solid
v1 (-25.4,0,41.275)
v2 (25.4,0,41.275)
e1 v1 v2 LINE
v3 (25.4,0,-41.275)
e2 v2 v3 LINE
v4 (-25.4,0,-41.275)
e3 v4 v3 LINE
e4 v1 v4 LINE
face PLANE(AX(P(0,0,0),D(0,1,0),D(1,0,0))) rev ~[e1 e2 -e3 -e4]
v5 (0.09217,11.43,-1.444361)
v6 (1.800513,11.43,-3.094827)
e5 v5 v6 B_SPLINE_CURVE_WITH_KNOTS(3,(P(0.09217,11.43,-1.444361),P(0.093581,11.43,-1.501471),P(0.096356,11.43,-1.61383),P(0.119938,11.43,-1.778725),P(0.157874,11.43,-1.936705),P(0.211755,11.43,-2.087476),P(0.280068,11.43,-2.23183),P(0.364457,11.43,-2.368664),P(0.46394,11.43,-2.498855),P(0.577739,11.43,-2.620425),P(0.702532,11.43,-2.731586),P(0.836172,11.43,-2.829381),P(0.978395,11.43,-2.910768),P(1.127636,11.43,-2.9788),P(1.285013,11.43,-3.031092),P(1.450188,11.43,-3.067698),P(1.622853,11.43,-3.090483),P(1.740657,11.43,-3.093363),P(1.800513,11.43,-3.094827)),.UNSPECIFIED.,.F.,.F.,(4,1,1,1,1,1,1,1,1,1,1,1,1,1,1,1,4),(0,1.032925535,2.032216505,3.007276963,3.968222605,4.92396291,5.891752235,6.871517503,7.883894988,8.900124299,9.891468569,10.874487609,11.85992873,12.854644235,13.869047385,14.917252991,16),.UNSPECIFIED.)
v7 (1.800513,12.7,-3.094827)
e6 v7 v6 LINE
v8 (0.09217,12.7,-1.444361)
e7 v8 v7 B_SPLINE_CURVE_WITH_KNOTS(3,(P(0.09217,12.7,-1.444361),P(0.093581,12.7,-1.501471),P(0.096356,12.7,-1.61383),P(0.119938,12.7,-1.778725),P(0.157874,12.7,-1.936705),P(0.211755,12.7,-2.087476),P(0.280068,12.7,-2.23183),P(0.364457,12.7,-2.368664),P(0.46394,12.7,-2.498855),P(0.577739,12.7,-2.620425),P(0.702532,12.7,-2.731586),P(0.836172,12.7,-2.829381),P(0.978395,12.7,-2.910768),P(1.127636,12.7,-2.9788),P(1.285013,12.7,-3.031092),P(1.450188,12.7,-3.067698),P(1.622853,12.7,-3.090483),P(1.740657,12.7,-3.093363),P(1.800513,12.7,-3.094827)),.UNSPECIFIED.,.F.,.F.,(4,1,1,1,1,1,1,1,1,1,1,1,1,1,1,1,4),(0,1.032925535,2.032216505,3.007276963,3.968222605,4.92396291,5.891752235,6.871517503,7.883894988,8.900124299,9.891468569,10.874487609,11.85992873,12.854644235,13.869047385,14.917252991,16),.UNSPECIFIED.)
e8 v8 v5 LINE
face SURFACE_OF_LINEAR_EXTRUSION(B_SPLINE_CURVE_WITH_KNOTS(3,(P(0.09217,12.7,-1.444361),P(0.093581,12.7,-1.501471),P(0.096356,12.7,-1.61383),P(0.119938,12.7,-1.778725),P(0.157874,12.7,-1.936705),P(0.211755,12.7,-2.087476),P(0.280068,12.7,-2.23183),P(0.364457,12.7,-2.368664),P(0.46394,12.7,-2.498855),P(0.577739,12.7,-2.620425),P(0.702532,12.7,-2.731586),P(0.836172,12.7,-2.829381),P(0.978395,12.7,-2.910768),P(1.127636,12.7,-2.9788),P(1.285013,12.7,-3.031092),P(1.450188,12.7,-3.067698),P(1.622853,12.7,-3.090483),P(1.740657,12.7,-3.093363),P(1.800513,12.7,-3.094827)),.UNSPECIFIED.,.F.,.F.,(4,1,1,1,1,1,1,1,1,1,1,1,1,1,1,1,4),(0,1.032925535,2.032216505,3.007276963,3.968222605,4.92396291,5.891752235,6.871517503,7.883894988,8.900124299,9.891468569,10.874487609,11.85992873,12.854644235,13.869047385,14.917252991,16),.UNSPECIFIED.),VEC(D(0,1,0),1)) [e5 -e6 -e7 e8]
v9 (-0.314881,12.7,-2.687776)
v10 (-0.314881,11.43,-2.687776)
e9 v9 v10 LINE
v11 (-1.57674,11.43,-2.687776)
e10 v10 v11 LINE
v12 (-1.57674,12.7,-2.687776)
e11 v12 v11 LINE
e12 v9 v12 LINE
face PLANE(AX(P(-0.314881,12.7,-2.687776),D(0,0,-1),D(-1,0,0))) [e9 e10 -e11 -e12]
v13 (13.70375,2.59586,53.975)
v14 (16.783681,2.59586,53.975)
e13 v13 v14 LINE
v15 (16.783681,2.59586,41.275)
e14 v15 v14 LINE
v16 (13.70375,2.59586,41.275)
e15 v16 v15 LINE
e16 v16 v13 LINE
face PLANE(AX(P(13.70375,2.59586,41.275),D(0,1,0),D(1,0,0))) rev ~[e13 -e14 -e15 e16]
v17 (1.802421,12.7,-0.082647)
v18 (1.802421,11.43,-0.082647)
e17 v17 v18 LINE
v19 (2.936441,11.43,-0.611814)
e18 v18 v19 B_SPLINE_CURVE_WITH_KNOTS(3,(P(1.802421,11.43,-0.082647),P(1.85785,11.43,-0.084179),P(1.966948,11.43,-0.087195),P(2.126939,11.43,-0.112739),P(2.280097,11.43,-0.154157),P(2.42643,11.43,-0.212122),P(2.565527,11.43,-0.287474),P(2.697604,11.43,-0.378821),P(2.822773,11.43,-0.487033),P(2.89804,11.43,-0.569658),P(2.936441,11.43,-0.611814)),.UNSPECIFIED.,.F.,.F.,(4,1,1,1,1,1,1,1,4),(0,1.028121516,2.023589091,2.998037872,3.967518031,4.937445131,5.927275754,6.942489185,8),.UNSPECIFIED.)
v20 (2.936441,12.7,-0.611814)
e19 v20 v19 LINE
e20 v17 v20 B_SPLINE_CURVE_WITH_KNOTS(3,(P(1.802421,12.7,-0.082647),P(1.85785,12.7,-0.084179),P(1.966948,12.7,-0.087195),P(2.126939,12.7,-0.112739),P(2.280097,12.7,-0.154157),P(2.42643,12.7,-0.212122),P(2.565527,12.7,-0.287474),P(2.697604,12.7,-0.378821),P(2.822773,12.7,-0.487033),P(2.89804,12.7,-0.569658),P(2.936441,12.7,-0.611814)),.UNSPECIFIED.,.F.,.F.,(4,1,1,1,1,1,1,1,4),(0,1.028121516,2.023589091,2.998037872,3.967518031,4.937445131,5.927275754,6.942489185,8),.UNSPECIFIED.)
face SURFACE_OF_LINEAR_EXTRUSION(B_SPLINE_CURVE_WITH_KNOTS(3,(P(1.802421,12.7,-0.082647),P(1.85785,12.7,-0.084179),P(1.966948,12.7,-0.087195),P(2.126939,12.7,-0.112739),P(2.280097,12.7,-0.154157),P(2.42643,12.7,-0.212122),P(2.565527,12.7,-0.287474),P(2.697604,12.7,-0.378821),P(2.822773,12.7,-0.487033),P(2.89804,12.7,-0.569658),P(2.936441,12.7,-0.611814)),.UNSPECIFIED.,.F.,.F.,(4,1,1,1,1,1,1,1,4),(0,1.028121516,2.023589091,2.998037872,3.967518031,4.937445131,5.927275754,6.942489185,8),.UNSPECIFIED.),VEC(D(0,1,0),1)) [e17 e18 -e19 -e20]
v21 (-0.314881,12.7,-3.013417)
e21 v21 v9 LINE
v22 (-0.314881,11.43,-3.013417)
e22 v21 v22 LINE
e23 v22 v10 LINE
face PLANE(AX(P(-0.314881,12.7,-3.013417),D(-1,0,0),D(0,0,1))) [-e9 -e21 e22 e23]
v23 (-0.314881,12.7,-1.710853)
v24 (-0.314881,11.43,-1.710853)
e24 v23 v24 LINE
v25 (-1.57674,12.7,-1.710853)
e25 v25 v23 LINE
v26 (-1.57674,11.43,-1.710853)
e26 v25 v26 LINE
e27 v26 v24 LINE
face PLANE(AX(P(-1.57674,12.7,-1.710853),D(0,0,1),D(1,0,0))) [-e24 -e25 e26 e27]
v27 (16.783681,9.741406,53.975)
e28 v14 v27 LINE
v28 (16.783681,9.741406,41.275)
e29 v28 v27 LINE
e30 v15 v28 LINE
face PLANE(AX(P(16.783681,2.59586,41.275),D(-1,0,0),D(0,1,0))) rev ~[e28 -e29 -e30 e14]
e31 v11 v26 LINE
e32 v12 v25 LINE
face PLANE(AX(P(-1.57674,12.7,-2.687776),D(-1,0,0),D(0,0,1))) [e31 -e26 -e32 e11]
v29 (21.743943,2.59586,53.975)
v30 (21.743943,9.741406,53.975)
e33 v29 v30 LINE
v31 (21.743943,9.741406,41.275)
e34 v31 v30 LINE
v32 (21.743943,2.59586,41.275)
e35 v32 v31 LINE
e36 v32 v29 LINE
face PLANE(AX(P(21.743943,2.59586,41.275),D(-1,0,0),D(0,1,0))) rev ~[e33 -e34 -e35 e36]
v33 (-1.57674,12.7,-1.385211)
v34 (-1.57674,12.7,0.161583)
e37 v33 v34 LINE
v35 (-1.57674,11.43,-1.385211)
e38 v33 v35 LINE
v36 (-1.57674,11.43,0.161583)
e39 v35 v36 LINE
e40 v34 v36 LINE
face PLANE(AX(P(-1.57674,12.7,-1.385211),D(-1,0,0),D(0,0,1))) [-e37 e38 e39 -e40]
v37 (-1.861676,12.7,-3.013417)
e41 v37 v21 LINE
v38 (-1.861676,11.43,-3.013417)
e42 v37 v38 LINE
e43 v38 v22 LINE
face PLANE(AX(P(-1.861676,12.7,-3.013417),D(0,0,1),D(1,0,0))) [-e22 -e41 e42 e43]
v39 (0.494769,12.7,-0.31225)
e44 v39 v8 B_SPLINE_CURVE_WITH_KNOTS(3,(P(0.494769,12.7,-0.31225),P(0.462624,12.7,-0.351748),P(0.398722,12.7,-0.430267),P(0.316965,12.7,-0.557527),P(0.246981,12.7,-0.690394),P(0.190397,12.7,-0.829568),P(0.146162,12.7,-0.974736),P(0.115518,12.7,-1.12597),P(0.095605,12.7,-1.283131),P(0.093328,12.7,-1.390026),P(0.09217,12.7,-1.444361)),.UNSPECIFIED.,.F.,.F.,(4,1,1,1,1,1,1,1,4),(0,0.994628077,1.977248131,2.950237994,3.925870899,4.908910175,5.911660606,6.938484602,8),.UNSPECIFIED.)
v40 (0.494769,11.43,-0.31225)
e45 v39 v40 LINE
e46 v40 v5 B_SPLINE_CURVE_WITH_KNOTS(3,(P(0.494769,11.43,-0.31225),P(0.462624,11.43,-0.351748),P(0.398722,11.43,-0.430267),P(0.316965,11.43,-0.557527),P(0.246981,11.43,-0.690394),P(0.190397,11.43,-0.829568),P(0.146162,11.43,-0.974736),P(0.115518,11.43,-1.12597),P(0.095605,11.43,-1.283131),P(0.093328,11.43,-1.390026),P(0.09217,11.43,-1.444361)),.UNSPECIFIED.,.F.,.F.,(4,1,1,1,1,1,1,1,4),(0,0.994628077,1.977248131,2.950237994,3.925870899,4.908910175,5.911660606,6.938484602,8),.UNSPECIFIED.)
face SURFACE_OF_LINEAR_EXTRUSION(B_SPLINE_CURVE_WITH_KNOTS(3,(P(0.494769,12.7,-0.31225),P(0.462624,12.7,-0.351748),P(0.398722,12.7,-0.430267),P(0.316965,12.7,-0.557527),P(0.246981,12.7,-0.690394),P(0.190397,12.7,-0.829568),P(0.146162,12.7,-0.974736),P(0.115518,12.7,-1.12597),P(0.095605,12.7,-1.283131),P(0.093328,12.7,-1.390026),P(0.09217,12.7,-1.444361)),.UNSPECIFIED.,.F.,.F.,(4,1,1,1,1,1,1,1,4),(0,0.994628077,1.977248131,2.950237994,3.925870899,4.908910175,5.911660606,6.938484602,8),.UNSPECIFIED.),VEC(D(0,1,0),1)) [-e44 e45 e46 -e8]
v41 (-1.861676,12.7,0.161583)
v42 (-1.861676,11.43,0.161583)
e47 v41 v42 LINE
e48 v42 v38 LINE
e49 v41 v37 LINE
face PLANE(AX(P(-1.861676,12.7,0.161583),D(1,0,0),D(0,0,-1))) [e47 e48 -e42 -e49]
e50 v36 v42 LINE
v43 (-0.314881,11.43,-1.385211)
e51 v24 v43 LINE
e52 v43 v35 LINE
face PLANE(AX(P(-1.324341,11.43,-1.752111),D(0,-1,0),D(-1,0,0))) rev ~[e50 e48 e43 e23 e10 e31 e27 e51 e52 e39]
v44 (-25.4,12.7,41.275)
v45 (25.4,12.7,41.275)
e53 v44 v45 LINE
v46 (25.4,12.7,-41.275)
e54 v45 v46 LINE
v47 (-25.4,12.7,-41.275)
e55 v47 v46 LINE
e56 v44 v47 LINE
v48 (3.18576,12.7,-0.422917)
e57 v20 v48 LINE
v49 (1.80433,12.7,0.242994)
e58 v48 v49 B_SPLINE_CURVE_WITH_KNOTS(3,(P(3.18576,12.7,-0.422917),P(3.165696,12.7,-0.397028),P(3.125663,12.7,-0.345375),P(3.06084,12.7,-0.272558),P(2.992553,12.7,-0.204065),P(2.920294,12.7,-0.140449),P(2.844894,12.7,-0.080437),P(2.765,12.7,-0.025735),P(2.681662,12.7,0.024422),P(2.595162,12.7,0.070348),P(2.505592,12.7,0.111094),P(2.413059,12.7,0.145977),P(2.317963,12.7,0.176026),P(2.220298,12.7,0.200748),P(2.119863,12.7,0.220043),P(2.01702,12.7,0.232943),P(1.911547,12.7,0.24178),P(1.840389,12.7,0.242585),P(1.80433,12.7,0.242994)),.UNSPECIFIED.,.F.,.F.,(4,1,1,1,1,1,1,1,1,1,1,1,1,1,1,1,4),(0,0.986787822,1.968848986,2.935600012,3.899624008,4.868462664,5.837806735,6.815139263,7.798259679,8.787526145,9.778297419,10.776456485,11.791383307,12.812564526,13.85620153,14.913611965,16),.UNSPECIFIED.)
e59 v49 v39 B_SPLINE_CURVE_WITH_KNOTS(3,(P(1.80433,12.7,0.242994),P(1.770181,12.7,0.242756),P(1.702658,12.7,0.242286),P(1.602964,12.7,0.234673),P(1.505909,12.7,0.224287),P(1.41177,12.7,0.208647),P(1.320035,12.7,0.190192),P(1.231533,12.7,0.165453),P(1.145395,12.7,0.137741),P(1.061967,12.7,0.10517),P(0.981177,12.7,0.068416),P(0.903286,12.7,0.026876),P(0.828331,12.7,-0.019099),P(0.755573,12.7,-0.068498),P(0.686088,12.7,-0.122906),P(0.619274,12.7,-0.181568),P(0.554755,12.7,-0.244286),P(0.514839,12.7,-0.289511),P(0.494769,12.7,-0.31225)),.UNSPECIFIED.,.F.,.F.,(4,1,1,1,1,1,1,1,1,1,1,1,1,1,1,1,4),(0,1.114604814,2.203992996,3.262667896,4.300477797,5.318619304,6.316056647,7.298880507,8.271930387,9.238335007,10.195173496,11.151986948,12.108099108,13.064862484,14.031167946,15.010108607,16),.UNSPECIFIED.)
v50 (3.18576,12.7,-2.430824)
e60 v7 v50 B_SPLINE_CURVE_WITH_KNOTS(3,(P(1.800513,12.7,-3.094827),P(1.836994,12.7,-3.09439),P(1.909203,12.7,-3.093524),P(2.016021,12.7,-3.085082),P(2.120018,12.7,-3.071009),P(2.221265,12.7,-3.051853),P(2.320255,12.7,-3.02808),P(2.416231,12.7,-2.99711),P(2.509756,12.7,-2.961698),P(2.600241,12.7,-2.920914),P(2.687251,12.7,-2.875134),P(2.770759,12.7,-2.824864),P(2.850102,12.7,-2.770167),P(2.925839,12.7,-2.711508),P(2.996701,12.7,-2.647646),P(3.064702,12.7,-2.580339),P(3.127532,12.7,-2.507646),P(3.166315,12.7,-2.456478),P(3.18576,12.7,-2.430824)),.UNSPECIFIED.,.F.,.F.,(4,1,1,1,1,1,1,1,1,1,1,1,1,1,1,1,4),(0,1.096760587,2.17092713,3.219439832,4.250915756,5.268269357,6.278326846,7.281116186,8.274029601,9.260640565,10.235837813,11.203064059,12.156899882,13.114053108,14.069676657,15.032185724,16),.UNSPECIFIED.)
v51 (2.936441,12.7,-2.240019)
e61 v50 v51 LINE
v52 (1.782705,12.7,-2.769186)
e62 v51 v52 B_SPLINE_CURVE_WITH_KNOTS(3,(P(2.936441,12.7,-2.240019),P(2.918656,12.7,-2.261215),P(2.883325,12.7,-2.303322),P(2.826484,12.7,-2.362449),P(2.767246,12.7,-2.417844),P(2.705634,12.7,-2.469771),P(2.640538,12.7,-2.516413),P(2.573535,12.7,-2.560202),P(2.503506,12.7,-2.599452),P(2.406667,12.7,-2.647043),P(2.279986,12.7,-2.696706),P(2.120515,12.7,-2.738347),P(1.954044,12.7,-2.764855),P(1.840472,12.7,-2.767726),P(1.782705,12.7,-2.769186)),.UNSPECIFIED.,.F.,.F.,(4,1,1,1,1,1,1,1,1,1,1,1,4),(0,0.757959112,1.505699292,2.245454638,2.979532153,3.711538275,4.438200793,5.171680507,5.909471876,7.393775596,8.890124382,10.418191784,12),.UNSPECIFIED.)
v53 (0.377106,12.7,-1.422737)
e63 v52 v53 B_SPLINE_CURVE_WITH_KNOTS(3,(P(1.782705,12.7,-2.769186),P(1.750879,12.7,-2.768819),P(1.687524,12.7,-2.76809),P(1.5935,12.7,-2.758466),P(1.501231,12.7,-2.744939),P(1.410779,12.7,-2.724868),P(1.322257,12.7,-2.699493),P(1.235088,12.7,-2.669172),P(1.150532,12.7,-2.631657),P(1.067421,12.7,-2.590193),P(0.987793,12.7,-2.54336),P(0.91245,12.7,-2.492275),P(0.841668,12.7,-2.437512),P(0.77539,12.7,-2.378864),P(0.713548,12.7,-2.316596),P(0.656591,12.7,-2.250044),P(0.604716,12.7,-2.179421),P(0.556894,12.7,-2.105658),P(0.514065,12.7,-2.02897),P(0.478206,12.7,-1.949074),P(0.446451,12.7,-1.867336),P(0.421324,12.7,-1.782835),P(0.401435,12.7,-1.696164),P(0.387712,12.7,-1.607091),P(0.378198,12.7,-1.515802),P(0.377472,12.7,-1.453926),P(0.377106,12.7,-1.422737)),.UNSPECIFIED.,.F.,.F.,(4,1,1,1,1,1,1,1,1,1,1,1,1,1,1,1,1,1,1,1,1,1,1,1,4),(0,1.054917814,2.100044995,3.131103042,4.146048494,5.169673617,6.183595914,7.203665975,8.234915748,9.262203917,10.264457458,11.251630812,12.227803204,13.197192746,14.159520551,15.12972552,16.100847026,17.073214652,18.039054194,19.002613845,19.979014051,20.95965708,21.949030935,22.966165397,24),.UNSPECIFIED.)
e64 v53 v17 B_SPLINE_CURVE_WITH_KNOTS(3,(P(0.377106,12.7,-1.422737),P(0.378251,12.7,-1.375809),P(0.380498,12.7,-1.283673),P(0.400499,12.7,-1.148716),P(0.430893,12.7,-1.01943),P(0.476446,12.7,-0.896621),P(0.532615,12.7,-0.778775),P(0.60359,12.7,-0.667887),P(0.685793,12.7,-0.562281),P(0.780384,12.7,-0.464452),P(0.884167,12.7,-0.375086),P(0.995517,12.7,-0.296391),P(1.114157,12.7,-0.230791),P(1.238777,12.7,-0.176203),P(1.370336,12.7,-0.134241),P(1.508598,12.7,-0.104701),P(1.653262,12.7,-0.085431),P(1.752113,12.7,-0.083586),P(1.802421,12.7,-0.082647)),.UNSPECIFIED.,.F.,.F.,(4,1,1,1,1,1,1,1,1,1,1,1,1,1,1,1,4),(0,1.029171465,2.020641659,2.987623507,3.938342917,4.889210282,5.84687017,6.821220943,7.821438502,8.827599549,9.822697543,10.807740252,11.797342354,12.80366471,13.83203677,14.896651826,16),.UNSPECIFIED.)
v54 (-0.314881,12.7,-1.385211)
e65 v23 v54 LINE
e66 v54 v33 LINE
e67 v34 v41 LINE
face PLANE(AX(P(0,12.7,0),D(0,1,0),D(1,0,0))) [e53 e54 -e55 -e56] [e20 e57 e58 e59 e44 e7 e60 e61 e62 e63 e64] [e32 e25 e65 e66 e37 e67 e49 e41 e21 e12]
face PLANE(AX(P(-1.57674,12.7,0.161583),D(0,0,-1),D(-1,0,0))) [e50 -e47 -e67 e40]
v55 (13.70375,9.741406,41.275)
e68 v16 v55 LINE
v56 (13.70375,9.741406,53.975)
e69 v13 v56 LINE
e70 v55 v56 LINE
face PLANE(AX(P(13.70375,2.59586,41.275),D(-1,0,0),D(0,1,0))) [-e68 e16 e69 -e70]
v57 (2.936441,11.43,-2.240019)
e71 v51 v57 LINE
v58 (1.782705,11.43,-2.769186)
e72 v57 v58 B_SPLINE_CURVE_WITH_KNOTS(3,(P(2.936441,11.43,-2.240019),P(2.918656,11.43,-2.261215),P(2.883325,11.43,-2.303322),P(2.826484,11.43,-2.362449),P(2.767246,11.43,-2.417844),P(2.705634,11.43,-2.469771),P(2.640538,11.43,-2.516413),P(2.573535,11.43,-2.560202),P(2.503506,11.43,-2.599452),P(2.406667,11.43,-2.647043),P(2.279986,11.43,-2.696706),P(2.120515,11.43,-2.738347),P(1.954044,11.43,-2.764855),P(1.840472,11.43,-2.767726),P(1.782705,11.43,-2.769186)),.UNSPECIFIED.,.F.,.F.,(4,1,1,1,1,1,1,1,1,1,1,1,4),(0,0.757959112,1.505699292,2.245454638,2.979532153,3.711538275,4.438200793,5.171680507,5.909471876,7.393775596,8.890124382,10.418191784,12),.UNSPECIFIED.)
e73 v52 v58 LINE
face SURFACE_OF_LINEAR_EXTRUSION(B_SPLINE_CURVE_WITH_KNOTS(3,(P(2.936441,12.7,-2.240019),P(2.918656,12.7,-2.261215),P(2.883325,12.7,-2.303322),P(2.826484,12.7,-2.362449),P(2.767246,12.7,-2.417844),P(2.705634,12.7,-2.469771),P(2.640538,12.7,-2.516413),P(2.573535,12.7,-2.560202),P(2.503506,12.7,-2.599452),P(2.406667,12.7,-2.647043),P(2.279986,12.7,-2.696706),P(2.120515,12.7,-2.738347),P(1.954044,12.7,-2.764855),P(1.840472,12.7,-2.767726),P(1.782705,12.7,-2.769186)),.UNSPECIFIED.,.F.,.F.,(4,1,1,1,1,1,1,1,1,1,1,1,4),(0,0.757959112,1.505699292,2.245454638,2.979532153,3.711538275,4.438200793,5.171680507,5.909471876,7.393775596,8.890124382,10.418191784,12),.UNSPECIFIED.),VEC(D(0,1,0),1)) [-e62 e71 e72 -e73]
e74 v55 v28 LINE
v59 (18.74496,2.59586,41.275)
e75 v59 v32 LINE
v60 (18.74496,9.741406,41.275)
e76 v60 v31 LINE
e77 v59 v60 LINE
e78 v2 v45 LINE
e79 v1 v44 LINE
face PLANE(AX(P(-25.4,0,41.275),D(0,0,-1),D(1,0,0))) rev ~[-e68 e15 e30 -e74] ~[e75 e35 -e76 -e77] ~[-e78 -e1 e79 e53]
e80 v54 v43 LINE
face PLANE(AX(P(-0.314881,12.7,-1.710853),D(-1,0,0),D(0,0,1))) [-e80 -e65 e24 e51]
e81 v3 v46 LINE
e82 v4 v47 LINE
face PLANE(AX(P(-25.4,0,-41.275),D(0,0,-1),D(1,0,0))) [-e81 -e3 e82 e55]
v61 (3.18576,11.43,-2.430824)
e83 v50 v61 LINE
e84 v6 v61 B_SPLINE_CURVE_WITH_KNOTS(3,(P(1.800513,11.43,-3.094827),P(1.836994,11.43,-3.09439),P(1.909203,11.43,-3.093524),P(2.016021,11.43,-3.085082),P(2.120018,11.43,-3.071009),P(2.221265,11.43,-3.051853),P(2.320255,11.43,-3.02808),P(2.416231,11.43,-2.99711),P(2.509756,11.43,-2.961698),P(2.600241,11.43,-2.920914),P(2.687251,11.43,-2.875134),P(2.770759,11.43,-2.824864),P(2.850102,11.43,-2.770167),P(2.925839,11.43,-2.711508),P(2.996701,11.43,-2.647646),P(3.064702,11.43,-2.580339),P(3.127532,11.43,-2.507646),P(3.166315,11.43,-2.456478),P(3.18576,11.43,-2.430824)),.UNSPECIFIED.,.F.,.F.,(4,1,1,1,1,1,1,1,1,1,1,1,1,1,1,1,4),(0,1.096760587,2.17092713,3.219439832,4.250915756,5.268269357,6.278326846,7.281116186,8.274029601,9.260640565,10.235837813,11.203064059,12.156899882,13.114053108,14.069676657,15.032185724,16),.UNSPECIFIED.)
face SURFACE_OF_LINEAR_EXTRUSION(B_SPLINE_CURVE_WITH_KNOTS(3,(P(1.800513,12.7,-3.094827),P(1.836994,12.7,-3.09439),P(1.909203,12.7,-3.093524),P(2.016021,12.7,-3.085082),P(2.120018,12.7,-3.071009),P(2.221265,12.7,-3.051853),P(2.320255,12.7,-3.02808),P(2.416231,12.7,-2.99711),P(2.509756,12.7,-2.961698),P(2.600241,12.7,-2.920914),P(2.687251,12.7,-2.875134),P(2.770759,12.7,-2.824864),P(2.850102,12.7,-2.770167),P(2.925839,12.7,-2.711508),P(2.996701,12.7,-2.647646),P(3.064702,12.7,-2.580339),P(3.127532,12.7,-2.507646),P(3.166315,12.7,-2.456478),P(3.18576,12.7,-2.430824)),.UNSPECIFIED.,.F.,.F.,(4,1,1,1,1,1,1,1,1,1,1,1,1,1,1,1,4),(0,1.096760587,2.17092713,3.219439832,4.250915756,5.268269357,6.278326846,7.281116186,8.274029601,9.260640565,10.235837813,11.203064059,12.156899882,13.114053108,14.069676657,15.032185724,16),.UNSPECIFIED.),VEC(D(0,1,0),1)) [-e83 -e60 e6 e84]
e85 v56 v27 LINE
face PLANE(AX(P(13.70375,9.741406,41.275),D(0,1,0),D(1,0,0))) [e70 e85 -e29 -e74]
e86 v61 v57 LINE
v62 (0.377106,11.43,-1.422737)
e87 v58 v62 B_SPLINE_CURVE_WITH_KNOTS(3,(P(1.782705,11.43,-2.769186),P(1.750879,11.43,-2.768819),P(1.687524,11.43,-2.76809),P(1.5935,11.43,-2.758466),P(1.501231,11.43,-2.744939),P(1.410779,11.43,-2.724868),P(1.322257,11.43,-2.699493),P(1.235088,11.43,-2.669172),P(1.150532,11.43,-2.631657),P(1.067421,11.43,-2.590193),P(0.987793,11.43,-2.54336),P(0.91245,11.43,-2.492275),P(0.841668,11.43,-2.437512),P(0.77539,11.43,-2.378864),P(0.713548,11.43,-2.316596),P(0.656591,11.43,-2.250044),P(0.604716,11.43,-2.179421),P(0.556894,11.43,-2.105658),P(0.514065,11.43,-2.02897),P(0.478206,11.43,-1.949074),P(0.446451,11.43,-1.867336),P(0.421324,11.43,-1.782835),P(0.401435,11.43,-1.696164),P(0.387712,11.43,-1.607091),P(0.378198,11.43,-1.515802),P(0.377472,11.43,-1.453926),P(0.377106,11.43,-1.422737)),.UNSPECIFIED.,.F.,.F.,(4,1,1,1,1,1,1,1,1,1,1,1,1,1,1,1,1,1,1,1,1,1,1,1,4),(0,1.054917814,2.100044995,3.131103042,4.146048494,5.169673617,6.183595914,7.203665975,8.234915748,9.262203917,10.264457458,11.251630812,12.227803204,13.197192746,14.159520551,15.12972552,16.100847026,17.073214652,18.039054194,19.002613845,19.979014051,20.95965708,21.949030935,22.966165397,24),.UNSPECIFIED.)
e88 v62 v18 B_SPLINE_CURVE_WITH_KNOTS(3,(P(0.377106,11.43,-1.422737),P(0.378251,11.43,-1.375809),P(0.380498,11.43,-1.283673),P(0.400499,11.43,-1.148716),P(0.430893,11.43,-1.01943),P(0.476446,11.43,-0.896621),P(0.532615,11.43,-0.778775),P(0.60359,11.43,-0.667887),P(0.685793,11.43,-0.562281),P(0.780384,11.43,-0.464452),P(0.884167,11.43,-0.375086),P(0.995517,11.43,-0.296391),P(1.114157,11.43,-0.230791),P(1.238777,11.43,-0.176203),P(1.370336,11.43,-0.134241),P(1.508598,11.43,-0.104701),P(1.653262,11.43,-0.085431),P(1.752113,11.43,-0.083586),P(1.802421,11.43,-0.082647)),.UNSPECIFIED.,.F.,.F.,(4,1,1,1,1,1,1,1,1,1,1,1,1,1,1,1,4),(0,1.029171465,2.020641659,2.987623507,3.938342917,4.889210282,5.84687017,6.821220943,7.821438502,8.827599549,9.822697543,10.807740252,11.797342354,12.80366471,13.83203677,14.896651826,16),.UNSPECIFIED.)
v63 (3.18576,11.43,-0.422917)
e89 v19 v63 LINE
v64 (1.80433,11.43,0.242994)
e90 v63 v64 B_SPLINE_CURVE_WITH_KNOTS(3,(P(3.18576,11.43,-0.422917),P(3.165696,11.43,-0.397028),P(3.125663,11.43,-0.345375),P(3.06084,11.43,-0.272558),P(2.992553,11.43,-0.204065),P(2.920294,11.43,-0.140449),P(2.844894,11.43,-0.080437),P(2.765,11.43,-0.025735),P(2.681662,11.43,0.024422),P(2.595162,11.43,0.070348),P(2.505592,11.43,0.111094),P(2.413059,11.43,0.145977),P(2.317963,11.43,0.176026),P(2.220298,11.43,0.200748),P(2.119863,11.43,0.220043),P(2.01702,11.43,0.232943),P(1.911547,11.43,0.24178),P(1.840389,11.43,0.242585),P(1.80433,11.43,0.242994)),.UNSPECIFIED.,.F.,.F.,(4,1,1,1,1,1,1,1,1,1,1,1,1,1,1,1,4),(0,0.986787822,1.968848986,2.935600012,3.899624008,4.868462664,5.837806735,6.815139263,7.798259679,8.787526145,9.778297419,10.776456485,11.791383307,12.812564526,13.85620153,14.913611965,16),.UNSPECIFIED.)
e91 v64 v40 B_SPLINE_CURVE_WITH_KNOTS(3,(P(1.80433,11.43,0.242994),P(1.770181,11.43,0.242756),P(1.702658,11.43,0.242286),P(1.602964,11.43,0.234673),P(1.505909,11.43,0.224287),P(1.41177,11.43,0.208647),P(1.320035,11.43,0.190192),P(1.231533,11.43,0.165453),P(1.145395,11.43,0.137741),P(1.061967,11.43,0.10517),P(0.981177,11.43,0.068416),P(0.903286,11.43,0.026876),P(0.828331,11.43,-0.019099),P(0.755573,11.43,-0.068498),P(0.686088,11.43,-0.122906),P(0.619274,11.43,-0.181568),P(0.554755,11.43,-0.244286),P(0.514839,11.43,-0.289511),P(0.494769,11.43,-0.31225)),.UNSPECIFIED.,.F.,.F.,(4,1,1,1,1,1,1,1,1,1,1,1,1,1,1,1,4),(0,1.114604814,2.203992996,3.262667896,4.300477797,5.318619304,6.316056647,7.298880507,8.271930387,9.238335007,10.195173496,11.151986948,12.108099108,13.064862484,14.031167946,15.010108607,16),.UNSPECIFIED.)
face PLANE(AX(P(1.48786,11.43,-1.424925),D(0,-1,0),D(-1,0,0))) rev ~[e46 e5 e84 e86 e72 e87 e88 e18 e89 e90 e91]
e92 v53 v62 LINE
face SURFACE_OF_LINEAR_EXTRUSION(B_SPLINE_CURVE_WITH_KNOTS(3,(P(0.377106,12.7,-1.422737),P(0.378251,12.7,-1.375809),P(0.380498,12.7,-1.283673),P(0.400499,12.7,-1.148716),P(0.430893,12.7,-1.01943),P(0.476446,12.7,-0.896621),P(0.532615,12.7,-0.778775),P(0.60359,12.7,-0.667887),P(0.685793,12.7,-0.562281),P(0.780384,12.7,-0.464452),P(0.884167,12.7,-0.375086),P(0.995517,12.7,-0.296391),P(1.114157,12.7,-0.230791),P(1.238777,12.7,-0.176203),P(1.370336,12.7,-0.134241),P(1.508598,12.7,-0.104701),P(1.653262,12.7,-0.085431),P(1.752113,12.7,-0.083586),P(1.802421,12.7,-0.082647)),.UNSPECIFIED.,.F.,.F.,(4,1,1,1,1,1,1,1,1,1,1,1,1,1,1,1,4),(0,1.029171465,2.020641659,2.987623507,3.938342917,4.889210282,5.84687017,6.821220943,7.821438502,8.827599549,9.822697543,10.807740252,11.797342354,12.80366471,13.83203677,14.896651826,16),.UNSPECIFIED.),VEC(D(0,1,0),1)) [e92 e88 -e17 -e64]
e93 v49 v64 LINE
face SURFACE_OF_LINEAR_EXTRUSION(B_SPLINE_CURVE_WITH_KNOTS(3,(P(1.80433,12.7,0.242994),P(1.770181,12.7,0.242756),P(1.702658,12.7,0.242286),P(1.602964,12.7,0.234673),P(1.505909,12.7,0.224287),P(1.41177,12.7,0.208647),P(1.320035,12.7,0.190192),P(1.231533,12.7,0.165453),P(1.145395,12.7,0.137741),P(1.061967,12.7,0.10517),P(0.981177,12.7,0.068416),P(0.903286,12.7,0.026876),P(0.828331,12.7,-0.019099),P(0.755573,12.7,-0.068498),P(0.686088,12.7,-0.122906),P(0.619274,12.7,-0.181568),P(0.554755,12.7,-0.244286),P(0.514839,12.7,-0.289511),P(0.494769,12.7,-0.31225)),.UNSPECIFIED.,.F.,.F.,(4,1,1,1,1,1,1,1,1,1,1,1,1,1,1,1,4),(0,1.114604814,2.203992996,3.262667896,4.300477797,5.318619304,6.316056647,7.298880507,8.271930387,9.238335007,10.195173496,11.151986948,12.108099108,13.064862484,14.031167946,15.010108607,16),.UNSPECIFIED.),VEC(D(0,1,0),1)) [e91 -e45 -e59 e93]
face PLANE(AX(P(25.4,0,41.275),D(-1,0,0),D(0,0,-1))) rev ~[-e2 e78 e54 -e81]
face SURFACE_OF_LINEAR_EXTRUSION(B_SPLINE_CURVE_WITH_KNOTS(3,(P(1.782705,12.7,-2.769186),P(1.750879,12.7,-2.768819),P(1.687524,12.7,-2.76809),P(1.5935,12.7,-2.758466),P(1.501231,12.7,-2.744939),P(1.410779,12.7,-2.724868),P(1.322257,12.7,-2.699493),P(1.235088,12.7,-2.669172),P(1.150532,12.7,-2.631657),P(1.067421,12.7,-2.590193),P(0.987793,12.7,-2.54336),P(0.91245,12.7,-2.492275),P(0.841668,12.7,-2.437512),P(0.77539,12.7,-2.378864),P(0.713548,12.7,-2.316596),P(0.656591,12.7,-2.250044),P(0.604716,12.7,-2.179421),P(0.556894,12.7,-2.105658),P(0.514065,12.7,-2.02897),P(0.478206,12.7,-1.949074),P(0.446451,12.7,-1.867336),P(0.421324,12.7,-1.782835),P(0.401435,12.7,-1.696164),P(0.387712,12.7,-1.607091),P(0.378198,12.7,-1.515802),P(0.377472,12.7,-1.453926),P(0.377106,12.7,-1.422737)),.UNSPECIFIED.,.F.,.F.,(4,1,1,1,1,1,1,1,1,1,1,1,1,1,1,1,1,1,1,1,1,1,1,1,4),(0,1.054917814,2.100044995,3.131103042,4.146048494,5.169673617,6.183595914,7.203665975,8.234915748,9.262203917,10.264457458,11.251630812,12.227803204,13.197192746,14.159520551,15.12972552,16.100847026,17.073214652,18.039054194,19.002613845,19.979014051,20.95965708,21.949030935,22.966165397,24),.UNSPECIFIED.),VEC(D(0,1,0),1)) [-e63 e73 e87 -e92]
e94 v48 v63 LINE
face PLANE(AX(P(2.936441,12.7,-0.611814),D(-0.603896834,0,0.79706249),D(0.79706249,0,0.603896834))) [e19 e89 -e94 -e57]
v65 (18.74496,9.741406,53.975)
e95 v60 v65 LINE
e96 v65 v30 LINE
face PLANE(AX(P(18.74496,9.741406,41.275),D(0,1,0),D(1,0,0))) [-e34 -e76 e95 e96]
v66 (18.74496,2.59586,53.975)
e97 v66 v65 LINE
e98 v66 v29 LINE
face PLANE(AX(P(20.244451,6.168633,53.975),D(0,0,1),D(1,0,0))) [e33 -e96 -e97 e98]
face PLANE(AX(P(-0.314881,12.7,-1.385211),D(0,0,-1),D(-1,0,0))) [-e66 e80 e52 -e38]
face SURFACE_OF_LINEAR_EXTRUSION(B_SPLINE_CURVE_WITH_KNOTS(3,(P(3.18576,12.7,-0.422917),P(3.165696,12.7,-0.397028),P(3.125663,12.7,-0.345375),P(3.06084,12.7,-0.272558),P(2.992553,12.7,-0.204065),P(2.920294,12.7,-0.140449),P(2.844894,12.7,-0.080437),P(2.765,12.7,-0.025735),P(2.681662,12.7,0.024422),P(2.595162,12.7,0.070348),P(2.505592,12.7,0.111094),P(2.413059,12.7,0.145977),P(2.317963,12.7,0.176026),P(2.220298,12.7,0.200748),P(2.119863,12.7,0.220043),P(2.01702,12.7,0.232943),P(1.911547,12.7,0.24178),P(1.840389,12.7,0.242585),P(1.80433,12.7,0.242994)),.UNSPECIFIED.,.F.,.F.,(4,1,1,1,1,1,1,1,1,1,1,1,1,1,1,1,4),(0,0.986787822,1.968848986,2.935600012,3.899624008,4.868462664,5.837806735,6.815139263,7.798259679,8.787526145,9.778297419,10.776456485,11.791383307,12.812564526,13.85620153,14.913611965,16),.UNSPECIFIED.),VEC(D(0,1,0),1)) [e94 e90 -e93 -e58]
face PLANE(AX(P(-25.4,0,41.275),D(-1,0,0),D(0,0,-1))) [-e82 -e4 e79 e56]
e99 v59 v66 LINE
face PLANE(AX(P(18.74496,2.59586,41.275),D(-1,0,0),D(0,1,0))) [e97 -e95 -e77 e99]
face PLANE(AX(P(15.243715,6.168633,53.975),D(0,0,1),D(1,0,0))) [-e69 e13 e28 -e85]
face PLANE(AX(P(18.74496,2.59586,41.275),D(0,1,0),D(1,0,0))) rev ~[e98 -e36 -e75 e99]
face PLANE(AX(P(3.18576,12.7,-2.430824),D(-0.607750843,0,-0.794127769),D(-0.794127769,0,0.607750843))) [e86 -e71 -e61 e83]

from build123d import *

# Parameters (mm, degrees)
SKETCH1_W           = 50.8
SKETCH1_H           = 82.55
BOSS_EXTRUDE1_DEPTH = 12.7
CUT_EXTRUDE1_DEPTH  = 1.27
SKETCH3_W           = 2.998982734
SKETCH3_H           = 7.14554636
SKETCH3_W_2         = 3.079931229
BOSS_EXTRUDE2_DEPTH = 12.7


with BuildPart() as part:
    # Sketch1 → Boss-Extrude1 (new body)
    with BuildSketch(Plane(origin=(0, 0, 0), x_dir=(1, 0, 0), z_dir=(0, 1, 0))):
        Rectangle(SKETCH1_W, SKETCH1_H)
    extrude(amount=BOSS_EXTRUDE1_DEPTH)

    # Sketch2 → Cut-Extrude1 (cut)
    with BuildSketch(Plane(origin=(0, 12.7, 0), x_dir=(1, 0, 0), z_dir=(0, 1, 0))):
        Polygon((-1.861676083, 3.013416612), (-0.314881211, 3.013416612), (-0.314881211, 2.687775586), (-1.576740185, 2.687775586), (-1.576740185, 1.710852509), (-0.314881211, 1.710852509), (-0.314881211, 1.385211483), (-1.576740185, 1.385211483), (-1.576740185, -0.161583388), (-1.861676083, -0.161583388), align=None)
        with BuildLine():
            Line((3.185759815, 2.430824464), (2.936440905, 2.240019176))
            add(Edge.make_bspline(
                [(2.936440905, 2.240019176), (2.918655563, 2.261215448), (2.883324665, 2.303322222), (2.826483817, 2.36244938), (2.767245898, 2.417844296), (2.705633552, 2.469770858), (2.64053778, 2.51641321), (2.573535484, 2.560201996), (2.503505828, 2.599452015), (2.406666755, 2.647043439), (2.279986207, 2.696706022), (2.120515174, 2.73834681), (1.954044392, 2.764854591), (1.840472284, 2.767725555), (1.782704927, 2.769185842)],
                knots=[0, 0, 0, 0, 0.757959112, 1.505699292, 2.245454638, 2.979532153, 3.711538275, 4.438200793, 5.171680507, 5.909471876, 7.393775596, 8.890124382, 10.418191784, 12, 12, 12, 12], degree=3))
            add(Edge.make_bspline(
                [(1.782704927, 2.769185842), (1.750879363, 2.768819391), (1.687523605, 2.768089888), (1.593499633, 2.758465896), (1.501231365, 2.744939298), (1.410778821, 2.724868469), (1.322257137, 2.699493308), (1.235087601, 2.669171682), (1.150532271, 2.631656935), (1.06742144, 2.590193013), (0.987793156, 2.543359546), (0.912450363, 2.492275291), (0.841667849, 2.437511896), (0.775389622, 2.378864107), (0.713547926, 2.316596042), (0.656590866, 2.250044104), (0.604715529, 2.179421061), (0.556893657, 2.105658184), (0.514064963, 2.02897033), (0.478205715, 1.949073659), (0.446451069, 1.867336366), (0.421323898, 1.782834956), (0.40143523, 1.696164018), (0.387712278, 1.607090946), (0.378197736, 1.515801822), (0.377471861, 1.453926232), (0.377105969, 1.422736523)],
                knots=[0, 0, 0, 0, 1.054917814, 2.100044995, 3.131103042, 4.146048494, 5.169673617, 6.183595914, 7.203665975, 8.234915748, 9.262203917, 10.264457458, 11.251630812, 12.227803204, 13.197192746, 14.159520551, 15.12972552, 16.100847026, 17.073214652, 18.039054194, 19.002613845, 19.979014051, 20.95965708, 21.949030935, 22.966165397, 24, 24, 24, 24], degree=3))
            add(Edge.make_bspline(
                [(0.377105969, 1.422736523), (0.378250619, 1.375808826), (0.380497988, 1.283672517), (0.400498976, 1.14871632), (0.430892881, 1.019429709), (0.476445582, 0.896620852), (0.532615007, 0.778775413), (0.603590419, 0.66788731), (0.685792563, 0.562280855), (0.780384358, 0.464451896), (0.884166777, 0.375085873), (0.995516668, 0.296390703), (1.114156701, 0.230790774), (1.23877693, 0.176202594), (1.370336333, 0.134241134), (1.508598332, 0.104700822), (1.653262214, 0.085431129), (1.752113026, 0.083586284), (1.802421474, 0.082647381)],
                knots=[0, 0, 0, 0, 1.029171465, 2.020641659, 2.987623507, 3.938342917, 4.889210282, 5.84687017, 6.821220943, 7.821438502, 8.827599549, 9.822697543, 10.807740252, 11.797342354, 12.80366471, 13.83203677, 14.896651826, 16, 16, 16, 16], degree=3))
            add(Edge.make_bspline(
                [(1.802421474, 0.082647381), (1.857850341, 0.084179345), (1.966947613, 0.087194618), (2.126938608, 0.11273908), (2.280096767, 0.154157334), (2.426430328, 0.212121877), (2.565526757, 0.28747396), (2.697603727, 0.37882132), (2.822772723, 0.487032879), (2.89803953, 0.569658288), (2.936440905, 0.611814047)],
                knots=[0, 0, 0, 0, 1.028121516, 2.023589091, 2.998037872, 3.967518031, 4.937445131, 5.927275754, 6.942489185, 8, 8, 8, 8], degree=3))
            Line((2.936440905, 0.611814047), (3.185759815, 0.422916812))
            add(Edge.make_bspline(
                [(3.185759815, 0.422916812), (3.16569553, 0.397028359), (3.125663066, 0.345375458), (3.060840436, 0.27255755), (2.992553173, 0.204064603), (2.920294065, 0.140448832), (2.844894354, 0.080437281), (2.765000185, 0.025734906), (2.681661848, -0.024421825), (2.595161714, -0.070347678), (2.505591686, -0.111094038), (2.413059092, -0.145977098), (2.317962784, -0.176026105), (2.220298416, -0.200747505), (2.119863408, -0.220043417), (2.017020192, -0.232942693), (1.911546805, -0.241780001), (1.84038923, -0.242585468), (1.804329526, -0.242993645)],
                knots=[0, 0, 0, 0, 0.986787822, 1.968848986, 2.935600012, 3.899624008, 4.868462664, 5.837806735, 6.815139263, 7.798259679, 8.787526145, 9.778297419, 10.776456485, 11.791383307, 12.812564526, 13.85620153, 14.913611965, 16, 16, 16, 16], degree=3))
            add(Edge.make_bspline(
                [(1.804329526, -0.242993645), (1.770181343, -0.24275598), (1.702657538, -0.242286028), (1.602963671, -0.234673133), (1.505908837, -0.224286586), (1.411770426, -0.208647324), (1.32003472, -0.190192101), (1.231533333, -0.165453176), (1.145395392, -0.137740717), (1.061966969, -0.105169765), (0.981177098, -0.0684158), (0.903286355, -0.026876314), (0.828330563, 0.019099377), (0.755572788, 0.068497851), (0.686087837, 0.122905832), (0.619273568, 0.181567708), (0.554755321, 0.24428576), (0.5148386, 0.289511234), (0.49476923, 0.312249745)],
                knots=[0, 0, 0, 0, 1.114604814, 2.203992996, 3.262667896, 4.300477797, 5.318619304, 6.316056647, 7.298880507, 8.271930387, 9.238335007, 10.195173496, 11.151986948, 12.108099108, 13.064862484, 14.031167946, 15.010108607, 16, 16, 16, 16], degree=3))
            add(Edge.make_bspline(
                [(0.49476923, 0.312249745), (0.462624039, 0.351747823), (0.398721742, 0.430267125), (0.316964872, 0.557526551), (0.246981019, 0.69039414), (0.190397148, 0.829567933), (0.146162382, 0.974735634), (0.115518013, 1.125970422), (0.095604771, 1.283131055), (0.093327581, 1.390025856), (0.092170071, 1.444361123)],
                knots=[0, 0, 0, 0, 0.994628077, 1.977248131, 2.950237994, 3.925870899, 4.908910175, 5.911660606, 6.938484602, 8, 8, 8, 8], degree=3))
            add(Edge.make_bspline(
                [(0.092170071, 1.444361123), (0.093580854, 1.501470713), (0.096356481, 1.613830266), (0.119938381, 1.778725209), (0.157874003, 1.936705407), (0.211755467, 2.087475946), (0.280068178, 2.231829843), (0.364456606, 2.368664365), (0.463940371, 2.498854605), (0.577739236, 2.620425129), (0.702532462, 2.731585828), (0.836171672, 2.829381455), (0.978395295, 2.910768059), (1.127636489, 2.978800292), (1.285012786, 3.031092055), (1.450188413, 3.06769816), (1.622853, 3.090482973), (1.740656772, 3.09336334), (1.800513421, 3.094826868)],
                knots=[0, 0, 0, 0, 1.032925535, 2.032216505, 3.007276963, 3.968222605, 4.92396291, 5.891752235, 6.871517503, 7.883894988, 8.900124299, 9.891468569, 10.874487609, 11.85992873, 12.854644235, 13.869047385, 14.917252991, 16, 16, 16, 16], degree=3))
            add(Edge.make_bspline(
                [(1.800513421, 3.094826868), (1.836993692, 3.0943895), (1.909202714, 3.093523773), (2.016021192, 3.085081773), (2.12001816, 3.071008716), (2.221265265, 3.051853424), (2.320255067, 3.02807964), (2.416231, 2.997109512), (2.509756237, 2.961697801), (2.600240932, 2.92091405), (2.687250946, 2.875133506), (2.770759177, 2.824863619), (2.850102299, 2.77016671), (2.925838612, 2.711507972), (2.996701175, 2.647646422), (3.064701944, 2.580338603), (3.127531637, 2.507645776), (3.166314892, 2.456478444), (3.185759815, 2.430824464)],
                knots=[0, 0, 0, 0, 1.096760587, 2.17092713, 3.219439832, 4.250915756, 5.268269357, 6.278326846, 7.281116186, 8.274029601, 9.260640565, 10.235837813, 11.203064059, 12.156899882, 13.114053108, 14.069676657, 15.032185724, 16, 16, 16, 16], degree=3))
        make_face()
    extrude(amount=-CUT_EXTRUDE1_DEPTH, mode=Mode.SUBTRACT)

    # Sketch3 → Boss-Extrude2 (add)
    with BuildSketch(Plane.XY.offset(41.275)):
        with Locations((20.244451429, 6.168632911)):
            Rectangle(SKETCH3_W, SKETCH3_H)
        with Locations((15.24371534, 6.168632911)):
            Rectangle(SKETCH3_W_2, SKETCH3_H)
    extrude(amount=BOSS_EXTRUDE2_DEPTH)


solid = part.part
